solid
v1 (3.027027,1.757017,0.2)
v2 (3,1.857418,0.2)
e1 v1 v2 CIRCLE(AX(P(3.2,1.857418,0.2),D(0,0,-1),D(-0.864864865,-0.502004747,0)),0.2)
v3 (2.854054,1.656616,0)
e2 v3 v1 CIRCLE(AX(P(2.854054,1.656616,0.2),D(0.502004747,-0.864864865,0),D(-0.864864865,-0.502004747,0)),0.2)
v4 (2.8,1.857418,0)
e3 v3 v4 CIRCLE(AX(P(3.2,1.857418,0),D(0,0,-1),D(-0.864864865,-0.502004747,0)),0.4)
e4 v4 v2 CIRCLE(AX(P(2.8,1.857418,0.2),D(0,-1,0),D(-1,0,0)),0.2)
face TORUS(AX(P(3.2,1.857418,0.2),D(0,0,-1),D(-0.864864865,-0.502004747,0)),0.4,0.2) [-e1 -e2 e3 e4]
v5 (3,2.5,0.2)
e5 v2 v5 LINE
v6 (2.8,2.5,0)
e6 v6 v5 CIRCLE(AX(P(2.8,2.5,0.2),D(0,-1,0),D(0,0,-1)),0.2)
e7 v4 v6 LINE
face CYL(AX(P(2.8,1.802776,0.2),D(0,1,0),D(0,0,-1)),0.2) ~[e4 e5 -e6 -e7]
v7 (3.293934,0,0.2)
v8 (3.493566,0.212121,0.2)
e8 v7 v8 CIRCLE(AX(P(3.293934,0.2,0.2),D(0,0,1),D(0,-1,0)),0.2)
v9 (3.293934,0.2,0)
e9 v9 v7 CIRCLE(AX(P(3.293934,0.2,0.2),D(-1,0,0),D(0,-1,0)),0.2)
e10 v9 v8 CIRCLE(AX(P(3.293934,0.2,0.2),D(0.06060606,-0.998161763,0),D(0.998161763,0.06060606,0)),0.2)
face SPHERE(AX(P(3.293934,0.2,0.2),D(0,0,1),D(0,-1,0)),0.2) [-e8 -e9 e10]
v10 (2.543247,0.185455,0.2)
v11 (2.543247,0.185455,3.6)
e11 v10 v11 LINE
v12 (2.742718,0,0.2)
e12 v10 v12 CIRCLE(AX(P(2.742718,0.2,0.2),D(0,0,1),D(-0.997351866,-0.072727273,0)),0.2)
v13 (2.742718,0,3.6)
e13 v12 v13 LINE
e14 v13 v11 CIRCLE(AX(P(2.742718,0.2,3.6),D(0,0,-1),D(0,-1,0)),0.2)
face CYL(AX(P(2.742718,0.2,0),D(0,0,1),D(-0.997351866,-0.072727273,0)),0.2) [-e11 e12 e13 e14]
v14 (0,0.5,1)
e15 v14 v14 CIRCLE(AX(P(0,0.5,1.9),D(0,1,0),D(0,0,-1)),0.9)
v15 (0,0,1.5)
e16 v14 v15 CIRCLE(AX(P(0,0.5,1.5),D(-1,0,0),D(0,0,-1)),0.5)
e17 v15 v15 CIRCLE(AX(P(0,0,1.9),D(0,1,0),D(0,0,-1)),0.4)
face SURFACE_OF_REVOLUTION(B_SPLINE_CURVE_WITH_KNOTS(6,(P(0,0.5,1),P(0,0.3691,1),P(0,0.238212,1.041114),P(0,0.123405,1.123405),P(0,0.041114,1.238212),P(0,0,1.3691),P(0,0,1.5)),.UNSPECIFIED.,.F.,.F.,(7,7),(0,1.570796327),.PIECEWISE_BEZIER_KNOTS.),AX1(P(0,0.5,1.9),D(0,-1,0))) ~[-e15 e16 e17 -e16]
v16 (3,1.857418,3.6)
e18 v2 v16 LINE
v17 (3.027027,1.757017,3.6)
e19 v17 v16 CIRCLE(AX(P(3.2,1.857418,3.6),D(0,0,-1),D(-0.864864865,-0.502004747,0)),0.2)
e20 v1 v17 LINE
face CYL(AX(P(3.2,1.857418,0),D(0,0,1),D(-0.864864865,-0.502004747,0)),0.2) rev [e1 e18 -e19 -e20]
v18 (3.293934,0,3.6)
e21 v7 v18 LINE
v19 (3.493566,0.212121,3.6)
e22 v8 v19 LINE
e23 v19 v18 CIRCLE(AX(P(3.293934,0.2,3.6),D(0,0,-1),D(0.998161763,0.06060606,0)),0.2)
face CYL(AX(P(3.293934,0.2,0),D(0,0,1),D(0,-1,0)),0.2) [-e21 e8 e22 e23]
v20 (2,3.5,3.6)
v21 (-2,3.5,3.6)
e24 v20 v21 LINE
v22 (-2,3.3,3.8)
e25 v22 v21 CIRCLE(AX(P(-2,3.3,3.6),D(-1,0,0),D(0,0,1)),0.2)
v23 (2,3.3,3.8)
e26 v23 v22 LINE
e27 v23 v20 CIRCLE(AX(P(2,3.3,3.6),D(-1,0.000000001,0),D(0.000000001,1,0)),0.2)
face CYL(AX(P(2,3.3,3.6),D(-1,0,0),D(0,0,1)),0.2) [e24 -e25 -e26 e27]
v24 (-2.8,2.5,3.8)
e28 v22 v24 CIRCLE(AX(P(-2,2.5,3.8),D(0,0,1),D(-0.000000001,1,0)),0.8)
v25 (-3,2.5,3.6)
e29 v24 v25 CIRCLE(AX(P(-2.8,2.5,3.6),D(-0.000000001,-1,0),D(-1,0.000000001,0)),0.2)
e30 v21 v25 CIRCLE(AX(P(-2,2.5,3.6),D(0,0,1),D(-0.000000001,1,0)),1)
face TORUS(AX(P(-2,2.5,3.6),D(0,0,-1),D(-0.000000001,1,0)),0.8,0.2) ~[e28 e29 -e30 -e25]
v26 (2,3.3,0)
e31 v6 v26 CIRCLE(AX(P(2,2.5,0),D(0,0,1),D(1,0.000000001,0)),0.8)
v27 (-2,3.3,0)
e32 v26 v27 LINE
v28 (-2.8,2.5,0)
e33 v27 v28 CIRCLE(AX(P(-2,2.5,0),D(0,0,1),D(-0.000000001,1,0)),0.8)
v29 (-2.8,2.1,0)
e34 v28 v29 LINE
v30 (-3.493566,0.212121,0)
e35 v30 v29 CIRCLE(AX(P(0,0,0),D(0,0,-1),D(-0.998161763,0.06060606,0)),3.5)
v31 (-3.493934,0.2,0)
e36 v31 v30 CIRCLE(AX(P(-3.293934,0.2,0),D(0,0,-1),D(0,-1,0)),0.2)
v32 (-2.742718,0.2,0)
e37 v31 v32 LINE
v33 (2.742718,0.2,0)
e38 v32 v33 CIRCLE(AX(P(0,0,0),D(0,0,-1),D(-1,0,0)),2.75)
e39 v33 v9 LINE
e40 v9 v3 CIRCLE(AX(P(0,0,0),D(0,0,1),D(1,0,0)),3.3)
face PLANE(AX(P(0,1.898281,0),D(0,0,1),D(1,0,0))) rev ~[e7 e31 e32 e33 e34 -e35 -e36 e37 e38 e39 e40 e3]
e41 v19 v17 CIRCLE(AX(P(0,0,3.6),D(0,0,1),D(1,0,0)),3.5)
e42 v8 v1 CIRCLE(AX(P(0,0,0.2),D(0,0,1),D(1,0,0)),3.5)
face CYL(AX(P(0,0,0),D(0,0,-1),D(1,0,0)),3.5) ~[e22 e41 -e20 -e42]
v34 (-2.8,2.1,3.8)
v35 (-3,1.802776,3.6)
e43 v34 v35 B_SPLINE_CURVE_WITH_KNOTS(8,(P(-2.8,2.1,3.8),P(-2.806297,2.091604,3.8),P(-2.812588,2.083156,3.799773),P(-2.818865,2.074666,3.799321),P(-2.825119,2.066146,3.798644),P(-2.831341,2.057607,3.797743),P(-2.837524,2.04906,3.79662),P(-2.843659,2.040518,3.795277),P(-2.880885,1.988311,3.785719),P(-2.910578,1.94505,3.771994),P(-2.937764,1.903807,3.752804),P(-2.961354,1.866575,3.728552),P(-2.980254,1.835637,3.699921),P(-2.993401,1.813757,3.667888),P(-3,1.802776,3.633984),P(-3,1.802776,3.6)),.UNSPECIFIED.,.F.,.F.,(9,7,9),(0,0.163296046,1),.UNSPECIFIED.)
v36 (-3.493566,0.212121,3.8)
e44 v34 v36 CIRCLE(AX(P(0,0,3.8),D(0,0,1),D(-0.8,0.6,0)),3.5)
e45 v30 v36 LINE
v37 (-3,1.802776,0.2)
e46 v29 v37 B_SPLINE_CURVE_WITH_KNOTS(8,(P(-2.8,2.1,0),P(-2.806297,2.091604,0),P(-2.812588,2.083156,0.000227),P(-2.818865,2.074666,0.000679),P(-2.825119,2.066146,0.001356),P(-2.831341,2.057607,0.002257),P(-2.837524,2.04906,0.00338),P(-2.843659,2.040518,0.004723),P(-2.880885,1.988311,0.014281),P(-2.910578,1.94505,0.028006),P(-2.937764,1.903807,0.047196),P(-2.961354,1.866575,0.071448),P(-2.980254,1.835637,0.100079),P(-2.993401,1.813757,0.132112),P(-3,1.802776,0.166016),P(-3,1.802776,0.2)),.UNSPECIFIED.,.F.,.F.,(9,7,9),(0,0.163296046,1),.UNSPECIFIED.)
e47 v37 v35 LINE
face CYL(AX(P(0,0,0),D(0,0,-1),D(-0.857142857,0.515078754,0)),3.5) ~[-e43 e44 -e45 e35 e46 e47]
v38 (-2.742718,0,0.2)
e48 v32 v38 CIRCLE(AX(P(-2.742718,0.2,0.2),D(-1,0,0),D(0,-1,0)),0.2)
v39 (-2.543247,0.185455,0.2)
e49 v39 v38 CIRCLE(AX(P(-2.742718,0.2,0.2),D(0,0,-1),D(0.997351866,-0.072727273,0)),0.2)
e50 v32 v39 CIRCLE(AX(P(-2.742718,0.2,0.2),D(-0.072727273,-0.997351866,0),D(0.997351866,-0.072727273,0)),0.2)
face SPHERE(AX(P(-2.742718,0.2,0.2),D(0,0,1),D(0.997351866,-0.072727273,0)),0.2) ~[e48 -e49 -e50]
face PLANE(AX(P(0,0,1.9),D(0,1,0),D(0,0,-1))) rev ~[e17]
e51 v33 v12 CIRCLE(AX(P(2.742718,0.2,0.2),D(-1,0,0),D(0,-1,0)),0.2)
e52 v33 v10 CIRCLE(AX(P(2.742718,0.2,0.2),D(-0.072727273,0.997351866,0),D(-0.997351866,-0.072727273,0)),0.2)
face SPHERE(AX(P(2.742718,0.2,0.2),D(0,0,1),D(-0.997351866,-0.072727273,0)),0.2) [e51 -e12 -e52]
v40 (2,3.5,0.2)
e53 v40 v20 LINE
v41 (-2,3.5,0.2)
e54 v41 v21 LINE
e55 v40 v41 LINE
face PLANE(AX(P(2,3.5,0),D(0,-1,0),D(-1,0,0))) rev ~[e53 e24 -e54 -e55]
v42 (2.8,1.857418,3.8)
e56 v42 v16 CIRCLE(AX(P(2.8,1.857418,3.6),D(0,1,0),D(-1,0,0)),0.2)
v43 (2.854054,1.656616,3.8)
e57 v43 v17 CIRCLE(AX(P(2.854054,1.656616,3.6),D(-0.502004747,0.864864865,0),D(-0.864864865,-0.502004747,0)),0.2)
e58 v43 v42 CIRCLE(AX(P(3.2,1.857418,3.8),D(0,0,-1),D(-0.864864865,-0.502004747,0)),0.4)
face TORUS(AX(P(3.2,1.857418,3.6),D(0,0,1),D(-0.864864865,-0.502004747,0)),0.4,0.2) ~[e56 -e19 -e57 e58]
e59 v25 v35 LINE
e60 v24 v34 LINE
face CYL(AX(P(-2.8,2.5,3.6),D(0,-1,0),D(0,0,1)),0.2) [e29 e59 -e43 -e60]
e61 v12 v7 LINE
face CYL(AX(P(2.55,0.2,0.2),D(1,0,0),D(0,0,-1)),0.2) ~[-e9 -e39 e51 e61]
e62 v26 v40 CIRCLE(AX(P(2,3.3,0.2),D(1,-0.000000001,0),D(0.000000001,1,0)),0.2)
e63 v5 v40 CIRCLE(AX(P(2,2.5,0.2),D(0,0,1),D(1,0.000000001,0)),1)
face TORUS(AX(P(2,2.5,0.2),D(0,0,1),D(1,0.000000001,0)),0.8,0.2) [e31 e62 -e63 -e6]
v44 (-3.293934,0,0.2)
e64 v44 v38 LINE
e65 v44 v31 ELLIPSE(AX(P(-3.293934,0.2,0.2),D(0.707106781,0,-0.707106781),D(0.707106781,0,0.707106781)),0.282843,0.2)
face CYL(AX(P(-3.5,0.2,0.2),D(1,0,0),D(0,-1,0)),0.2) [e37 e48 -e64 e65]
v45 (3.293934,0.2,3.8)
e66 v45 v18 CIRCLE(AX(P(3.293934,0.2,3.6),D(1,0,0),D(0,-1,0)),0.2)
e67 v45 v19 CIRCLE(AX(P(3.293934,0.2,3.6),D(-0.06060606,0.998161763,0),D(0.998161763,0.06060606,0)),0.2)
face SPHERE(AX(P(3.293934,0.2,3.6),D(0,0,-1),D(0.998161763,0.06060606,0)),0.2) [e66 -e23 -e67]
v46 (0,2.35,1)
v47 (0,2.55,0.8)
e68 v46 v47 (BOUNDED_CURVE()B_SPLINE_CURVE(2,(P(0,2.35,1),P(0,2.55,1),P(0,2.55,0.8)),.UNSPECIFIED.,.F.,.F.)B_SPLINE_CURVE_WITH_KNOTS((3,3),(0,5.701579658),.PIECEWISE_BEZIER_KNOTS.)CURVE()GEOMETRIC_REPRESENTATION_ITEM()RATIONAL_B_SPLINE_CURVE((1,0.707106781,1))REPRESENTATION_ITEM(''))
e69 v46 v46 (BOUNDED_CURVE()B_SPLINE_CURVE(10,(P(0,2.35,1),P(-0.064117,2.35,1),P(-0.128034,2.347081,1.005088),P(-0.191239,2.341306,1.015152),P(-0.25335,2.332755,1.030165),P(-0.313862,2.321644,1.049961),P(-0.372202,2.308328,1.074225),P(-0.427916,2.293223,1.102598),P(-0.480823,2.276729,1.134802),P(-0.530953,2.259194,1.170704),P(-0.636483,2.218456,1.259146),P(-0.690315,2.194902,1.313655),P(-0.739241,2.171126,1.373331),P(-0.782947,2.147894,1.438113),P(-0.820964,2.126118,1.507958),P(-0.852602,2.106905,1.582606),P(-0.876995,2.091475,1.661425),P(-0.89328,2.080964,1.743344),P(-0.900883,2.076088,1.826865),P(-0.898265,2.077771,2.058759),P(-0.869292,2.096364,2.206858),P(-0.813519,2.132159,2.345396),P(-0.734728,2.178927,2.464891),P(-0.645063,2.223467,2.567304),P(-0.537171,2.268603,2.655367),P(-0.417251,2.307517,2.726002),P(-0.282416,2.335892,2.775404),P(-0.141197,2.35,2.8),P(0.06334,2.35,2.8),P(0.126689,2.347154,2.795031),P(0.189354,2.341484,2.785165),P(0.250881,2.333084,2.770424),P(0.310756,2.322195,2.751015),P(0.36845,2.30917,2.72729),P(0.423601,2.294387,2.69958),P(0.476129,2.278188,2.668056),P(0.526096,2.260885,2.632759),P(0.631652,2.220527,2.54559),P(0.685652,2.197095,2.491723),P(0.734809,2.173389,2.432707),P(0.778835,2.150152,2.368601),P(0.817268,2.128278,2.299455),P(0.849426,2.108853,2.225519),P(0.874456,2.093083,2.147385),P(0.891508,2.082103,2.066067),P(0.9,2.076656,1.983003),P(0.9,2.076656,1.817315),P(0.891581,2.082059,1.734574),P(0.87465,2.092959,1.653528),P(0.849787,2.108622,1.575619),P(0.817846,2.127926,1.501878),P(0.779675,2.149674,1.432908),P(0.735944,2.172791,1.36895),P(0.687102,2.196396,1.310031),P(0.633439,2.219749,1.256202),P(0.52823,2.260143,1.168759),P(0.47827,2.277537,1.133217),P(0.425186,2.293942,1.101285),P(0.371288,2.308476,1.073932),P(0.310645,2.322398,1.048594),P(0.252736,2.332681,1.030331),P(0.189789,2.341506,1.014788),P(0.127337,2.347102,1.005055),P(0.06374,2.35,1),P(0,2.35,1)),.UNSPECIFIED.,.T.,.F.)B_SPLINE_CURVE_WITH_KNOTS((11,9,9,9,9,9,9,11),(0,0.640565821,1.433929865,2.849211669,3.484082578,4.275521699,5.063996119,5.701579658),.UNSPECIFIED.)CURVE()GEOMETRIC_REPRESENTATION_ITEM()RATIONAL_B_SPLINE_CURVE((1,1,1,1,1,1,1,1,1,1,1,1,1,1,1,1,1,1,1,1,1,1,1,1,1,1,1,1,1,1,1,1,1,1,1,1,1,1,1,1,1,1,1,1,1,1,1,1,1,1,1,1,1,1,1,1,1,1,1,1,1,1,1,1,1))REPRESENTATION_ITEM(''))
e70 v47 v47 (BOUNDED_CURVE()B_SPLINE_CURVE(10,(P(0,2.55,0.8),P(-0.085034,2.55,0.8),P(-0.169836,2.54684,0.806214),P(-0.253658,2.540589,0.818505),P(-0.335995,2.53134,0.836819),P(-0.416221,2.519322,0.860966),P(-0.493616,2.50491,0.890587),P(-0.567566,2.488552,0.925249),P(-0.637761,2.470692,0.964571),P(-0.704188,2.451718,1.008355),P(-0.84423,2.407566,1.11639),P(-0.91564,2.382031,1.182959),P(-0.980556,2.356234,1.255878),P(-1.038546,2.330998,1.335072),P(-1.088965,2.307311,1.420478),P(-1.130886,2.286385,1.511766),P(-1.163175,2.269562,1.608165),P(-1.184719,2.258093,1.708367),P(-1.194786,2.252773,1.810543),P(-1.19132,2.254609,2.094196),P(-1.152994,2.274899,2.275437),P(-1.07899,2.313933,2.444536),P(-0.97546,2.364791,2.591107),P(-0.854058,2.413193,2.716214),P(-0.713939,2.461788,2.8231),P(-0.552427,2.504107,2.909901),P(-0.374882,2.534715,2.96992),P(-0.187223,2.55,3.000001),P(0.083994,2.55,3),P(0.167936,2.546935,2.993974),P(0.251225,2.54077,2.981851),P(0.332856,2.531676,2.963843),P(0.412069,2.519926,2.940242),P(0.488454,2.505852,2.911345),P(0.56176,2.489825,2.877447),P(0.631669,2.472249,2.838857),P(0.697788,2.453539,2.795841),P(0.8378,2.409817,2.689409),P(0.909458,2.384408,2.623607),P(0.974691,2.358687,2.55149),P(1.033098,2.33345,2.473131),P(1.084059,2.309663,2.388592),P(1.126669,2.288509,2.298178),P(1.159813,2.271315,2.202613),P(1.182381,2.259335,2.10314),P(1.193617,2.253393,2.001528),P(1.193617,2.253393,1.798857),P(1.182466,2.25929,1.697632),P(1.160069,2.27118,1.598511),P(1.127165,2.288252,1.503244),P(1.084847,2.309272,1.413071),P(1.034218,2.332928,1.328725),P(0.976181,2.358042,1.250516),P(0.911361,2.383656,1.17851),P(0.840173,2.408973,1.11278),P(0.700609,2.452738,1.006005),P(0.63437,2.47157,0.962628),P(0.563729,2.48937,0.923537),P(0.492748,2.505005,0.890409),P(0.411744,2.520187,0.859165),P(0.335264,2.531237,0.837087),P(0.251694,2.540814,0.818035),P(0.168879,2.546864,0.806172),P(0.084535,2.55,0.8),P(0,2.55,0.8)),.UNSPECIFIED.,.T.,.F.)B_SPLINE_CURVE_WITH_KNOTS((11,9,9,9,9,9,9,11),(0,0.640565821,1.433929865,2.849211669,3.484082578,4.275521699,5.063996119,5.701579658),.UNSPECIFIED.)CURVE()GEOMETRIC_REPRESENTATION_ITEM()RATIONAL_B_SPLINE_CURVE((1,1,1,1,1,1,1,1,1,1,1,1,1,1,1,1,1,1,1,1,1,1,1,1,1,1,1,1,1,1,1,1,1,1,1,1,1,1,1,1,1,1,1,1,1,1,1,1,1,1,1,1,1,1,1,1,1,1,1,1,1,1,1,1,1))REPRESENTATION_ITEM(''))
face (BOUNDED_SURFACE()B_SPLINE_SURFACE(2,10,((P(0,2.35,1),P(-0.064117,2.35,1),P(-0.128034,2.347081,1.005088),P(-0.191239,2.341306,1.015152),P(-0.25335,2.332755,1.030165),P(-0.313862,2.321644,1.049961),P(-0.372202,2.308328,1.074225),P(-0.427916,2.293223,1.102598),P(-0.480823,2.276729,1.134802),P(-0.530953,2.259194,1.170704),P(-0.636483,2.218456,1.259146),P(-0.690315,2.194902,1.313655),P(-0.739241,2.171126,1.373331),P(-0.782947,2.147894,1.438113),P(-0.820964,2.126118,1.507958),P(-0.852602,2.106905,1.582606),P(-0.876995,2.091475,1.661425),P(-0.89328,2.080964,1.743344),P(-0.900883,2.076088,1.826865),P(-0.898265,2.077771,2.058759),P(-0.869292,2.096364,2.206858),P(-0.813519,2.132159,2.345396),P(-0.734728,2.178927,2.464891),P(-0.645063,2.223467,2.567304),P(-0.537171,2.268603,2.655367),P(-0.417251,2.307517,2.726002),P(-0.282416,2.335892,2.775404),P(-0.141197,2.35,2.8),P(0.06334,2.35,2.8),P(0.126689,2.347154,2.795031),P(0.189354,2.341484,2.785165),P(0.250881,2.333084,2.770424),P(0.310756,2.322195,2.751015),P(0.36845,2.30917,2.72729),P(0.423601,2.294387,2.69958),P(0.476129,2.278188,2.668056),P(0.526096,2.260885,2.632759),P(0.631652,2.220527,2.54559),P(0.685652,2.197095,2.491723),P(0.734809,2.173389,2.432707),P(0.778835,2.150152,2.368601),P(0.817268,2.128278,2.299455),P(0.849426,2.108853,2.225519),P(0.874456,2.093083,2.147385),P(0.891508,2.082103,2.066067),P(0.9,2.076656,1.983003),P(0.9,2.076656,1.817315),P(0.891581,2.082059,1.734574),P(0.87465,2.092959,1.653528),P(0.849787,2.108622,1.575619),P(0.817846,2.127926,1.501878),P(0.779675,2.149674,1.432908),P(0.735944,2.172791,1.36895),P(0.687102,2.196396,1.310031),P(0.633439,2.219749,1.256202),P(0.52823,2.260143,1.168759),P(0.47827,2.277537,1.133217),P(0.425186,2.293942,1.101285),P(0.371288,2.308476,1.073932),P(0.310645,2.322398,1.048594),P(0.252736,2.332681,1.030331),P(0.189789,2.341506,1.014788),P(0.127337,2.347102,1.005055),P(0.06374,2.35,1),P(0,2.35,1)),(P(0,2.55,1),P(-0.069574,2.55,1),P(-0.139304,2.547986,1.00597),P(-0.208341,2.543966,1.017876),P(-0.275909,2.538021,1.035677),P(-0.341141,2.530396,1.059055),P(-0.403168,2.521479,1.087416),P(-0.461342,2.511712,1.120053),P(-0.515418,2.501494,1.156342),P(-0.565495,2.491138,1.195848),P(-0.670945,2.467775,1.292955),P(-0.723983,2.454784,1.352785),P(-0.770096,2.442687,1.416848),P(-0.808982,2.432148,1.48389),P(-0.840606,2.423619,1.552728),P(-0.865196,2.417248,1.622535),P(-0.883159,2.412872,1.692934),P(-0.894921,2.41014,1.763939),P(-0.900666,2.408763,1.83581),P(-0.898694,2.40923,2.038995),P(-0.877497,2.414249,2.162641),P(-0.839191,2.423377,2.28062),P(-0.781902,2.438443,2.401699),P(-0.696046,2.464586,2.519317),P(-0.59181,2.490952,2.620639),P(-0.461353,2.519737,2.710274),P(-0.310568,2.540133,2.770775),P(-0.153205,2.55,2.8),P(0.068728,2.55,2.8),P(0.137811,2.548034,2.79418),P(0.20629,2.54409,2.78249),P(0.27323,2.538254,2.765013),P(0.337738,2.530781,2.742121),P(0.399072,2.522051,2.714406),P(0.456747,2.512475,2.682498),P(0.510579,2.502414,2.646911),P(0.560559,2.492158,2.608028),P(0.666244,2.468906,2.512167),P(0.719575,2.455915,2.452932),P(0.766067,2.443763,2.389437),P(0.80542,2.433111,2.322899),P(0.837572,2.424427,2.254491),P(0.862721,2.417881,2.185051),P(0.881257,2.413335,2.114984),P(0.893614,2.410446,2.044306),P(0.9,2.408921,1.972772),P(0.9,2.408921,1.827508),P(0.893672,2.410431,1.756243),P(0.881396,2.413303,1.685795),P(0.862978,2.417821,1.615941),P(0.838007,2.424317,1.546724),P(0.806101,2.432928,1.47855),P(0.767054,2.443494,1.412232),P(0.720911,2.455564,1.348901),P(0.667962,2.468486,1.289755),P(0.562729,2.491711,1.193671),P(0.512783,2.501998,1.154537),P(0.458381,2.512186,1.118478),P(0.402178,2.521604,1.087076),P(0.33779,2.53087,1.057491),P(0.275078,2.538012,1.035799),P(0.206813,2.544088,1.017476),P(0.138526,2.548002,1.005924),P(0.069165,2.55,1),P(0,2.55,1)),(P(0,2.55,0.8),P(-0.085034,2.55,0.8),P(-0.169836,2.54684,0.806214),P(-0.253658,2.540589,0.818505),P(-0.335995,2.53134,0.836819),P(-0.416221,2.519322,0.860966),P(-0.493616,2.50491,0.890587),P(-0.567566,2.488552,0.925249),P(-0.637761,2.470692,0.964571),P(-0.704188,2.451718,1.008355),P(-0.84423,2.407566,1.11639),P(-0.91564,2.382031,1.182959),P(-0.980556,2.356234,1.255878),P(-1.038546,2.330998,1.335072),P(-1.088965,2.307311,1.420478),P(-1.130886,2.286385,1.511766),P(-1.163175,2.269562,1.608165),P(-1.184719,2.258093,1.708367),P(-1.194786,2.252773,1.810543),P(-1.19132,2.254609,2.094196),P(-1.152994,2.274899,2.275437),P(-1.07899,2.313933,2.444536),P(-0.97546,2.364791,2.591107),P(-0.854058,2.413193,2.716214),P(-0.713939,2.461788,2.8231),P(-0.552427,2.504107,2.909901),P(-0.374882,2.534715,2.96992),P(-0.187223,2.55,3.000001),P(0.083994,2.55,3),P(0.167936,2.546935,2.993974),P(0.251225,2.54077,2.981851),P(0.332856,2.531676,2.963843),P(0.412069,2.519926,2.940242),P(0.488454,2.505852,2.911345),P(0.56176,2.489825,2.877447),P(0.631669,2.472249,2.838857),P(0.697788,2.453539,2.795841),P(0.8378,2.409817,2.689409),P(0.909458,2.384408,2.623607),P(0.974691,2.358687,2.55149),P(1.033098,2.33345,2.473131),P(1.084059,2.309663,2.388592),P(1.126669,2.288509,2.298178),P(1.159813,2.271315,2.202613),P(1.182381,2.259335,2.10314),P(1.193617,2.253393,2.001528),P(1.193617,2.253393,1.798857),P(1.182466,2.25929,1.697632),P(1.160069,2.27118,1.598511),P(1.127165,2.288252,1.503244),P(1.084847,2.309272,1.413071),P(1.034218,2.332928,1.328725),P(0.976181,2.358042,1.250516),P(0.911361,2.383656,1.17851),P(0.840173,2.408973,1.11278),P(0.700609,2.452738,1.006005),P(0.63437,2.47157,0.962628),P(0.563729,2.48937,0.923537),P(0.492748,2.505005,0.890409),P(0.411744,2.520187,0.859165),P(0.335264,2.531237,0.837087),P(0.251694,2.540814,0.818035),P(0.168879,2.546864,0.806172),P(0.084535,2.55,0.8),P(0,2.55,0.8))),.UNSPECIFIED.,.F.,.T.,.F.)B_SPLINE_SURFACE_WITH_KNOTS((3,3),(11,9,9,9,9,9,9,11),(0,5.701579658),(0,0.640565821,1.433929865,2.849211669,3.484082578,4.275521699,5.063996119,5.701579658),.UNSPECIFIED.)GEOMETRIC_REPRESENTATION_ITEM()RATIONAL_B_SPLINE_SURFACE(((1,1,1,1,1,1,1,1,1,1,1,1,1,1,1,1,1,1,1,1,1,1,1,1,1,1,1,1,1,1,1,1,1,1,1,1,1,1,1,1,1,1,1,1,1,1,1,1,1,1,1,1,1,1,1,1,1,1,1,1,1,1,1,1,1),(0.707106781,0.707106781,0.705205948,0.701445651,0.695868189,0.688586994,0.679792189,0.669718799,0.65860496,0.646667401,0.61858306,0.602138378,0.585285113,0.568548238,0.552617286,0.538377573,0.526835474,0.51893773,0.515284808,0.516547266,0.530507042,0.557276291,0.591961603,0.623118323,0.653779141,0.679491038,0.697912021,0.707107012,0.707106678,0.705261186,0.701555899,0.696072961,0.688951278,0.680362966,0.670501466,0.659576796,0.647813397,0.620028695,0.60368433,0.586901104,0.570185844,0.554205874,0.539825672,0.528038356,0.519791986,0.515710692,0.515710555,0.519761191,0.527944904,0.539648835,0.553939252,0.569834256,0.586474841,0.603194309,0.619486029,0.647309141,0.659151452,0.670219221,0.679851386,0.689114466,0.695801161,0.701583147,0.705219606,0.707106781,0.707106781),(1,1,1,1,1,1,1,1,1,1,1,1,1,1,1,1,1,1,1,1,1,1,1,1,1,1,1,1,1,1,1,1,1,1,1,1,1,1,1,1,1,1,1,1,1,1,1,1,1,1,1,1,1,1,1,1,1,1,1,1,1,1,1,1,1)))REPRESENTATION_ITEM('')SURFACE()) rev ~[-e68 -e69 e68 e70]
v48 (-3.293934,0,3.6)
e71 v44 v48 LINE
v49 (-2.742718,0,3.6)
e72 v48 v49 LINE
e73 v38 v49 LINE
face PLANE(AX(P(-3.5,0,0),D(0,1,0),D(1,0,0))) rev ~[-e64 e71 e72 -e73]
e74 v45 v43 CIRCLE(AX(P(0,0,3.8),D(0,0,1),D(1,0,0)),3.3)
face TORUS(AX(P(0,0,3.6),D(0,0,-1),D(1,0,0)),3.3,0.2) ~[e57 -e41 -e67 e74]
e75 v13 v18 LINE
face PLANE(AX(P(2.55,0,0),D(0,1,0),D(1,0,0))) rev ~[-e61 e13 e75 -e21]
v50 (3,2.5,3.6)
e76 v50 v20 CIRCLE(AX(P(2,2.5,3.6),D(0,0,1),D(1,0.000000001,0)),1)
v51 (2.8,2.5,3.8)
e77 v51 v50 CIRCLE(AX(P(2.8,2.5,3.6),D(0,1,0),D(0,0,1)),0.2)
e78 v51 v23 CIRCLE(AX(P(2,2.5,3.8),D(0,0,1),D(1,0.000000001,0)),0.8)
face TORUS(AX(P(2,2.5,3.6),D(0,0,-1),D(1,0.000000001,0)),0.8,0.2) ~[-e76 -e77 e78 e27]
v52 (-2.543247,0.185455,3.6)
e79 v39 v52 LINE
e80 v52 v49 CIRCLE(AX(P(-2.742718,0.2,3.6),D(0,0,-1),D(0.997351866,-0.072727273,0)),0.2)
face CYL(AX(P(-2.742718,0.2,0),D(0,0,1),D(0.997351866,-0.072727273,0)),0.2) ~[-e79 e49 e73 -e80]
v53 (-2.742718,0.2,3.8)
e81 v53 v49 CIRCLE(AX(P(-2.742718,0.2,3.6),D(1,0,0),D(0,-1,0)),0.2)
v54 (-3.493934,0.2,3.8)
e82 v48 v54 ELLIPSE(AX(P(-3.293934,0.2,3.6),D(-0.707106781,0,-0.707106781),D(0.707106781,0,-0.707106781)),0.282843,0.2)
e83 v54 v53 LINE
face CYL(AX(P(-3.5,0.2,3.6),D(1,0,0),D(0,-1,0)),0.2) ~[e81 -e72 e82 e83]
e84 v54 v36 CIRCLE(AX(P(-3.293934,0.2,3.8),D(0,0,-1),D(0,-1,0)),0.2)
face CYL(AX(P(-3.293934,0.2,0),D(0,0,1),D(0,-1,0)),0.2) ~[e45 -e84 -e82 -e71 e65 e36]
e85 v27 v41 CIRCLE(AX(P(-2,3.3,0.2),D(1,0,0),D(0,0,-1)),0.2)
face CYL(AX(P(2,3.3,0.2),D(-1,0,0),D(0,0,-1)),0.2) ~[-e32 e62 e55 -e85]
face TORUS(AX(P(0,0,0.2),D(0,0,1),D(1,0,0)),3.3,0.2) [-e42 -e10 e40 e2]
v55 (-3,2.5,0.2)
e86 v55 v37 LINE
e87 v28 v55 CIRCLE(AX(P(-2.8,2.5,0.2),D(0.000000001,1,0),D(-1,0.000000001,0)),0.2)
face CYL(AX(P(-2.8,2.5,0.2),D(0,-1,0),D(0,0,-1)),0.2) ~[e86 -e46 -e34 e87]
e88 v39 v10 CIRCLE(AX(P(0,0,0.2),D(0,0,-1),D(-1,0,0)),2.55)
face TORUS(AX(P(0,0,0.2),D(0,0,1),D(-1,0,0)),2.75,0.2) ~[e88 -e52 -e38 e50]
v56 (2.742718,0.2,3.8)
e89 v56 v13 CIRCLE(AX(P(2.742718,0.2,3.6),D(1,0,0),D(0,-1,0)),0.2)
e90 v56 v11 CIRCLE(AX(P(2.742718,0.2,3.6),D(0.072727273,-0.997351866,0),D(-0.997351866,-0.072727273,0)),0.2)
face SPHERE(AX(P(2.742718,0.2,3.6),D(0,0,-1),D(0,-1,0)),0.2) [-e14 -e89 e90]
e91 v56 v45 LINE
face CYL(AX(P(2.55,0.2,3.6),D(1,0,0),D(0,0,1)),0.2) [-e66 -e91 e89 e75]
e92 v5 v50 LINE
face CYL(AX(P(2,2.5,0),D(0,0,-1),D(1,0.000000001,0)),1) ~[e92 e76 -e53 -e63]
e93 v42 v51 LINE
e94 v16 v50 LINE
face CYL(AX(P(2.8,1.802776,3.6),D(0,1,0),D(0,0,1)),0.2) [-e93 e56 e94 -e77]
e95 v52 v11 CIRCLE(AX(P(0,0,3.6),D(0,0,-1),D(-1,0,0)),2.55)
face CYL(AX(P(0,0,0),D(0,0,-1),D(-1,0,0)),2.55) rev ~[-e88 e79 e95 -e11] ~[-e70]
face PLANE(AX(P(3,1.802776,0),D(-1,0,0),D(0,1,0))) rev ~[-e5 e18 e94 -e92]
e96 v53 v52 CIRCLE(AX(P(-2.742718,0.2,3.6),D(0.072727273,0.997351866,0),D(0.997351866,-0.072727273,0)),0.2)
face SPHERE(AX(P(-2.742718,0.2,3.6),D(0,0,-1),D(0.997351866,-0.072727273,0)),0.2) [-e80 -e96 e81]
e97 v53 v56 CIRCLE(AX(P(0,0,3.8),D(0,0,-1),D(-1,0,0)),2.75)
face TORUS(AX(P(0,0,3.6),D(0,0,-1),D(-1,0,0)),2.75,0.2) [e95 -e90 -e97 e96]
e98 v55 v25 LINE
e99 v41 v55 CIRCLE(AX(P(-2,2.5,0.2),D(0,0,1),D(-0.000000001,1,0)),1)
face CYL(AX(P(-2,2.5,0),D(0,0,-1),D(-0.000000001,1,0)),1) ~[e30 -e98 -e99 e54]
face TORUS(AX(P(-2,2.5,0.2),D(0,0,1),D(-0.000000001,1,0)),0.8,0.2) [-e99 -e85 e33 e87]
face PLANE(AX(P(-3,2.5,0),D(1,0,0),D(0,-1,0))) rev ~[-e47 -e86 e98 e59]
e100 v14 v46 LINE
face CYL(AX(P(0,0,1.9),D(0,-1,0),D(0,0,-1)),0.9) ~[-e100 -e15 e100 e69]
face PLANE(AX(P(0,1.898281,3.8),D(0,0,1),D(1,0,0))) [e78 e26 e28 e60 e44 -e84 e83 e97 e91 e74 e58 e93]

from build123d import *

# Parameters (mm, degrees)
BOSS_EXTRUDE1_DEPTH = 3.8
SKETCH3_R           = 0.9
BOSS_EXTRUDE2_DEPTH = 3
FILLET1_R           = 0.5
FILLET3_R           = 0.2


with BuildPart() as part:
    # Sketch2 → Boss-Extrude1 (new body)
    with BuildSketch(Plane.XY):
        with BuildLine():
            Line((-3.5, 0), (-2.55, 0))
            ThreePointArc((-2.55, 0), (0, 2.55), (2.55, 0))
            Line((2.55, 0), (3.5, 0))
            ThreePointArc((3.5, 0), (3.372684391, 0.935414347), (3, 1.802775638))
            Line((3, 1.802775638), (3, 2.5))
            ThreePointArc((3, 2.5), (2.707106781, 3.207106781), (2, 3.5))
            Line((2, 3.5), (0, 3.5))
            Line((0, 3.5), (-2, 3.5))
            ThreePointArc((-2, 3.5), (-2.707106781, 3.207106781), (-3, 2.5))
            Line((-3, 2.5), (-3, 1.802775638))
            ThreePointArc((-3, 1.802775638), (-3.372684391, 0.935414347), (-3.5, 0))
        make_face()
    extrude(amount=BOSS_EXTRUDE1_DEPTH)

    # Sketch3 → Boss-Extrude2 (add)
    with BuildSketch(Plane(origin=(0, 0, 0), x_dir=(1, 0, 0), z_dir=(0, 1, 0))):
        with Locations(Location((0, -1.9, 0), (0, 0, 90))):
            Circle(SKETCH3_R)
    extrude(amount=BOSS_EXTRUDE2_DEPTH)

    # Fillet1
    fillet1_edges = [part.edges().sort_by_distance(p)[0] for p in [
        (0, 0, 2.8),
    ]]
    fillet(fillet1_edges, radius=FILLET1_R)

    # Fillet3
    fillet3_edges = [part.edges().sort_by_distance(p)[0] for p in [
        (-3.025, 0, 3.8),
        (-3.025, 0, 0),
        (3.372684391, 0.935414347, 3.8),
        (3.372684391, 0.935414347, 0),
        (3.025, 0, 3.8),
        (3.5, 0, 1.9),
        (3.025, 0, 0),
        (0, 2.55, 2.8),
        (-2.55, 0, 1.9),
        (0, 2.55, 3.8),
        (2.55, 0, 1.9),
        (0, 2.55, 0),
        (-3, 2.151387819, 3.8),
        (-3, 2.151387819, 0),
        (-2.707106781, 3.207106781, 3.8),
        (-2.707106781, 3.207106781, 0),
        (0, 3.5, 3.8),
        (0, 3.5, 0),
        (2.707106781, 3.207106781, 3.8),
        (2.707106781, 3.207106781, 0),
        (3, 2.151387819, 3.8),
        (3, 2.151387819, 0),
        (-3.5, 0, 1.9),
        (3, 1.802775638, 1.9),
    ]]
    fillet(fillet3_edges, radius=FILLET3_R)


solid = part.part
